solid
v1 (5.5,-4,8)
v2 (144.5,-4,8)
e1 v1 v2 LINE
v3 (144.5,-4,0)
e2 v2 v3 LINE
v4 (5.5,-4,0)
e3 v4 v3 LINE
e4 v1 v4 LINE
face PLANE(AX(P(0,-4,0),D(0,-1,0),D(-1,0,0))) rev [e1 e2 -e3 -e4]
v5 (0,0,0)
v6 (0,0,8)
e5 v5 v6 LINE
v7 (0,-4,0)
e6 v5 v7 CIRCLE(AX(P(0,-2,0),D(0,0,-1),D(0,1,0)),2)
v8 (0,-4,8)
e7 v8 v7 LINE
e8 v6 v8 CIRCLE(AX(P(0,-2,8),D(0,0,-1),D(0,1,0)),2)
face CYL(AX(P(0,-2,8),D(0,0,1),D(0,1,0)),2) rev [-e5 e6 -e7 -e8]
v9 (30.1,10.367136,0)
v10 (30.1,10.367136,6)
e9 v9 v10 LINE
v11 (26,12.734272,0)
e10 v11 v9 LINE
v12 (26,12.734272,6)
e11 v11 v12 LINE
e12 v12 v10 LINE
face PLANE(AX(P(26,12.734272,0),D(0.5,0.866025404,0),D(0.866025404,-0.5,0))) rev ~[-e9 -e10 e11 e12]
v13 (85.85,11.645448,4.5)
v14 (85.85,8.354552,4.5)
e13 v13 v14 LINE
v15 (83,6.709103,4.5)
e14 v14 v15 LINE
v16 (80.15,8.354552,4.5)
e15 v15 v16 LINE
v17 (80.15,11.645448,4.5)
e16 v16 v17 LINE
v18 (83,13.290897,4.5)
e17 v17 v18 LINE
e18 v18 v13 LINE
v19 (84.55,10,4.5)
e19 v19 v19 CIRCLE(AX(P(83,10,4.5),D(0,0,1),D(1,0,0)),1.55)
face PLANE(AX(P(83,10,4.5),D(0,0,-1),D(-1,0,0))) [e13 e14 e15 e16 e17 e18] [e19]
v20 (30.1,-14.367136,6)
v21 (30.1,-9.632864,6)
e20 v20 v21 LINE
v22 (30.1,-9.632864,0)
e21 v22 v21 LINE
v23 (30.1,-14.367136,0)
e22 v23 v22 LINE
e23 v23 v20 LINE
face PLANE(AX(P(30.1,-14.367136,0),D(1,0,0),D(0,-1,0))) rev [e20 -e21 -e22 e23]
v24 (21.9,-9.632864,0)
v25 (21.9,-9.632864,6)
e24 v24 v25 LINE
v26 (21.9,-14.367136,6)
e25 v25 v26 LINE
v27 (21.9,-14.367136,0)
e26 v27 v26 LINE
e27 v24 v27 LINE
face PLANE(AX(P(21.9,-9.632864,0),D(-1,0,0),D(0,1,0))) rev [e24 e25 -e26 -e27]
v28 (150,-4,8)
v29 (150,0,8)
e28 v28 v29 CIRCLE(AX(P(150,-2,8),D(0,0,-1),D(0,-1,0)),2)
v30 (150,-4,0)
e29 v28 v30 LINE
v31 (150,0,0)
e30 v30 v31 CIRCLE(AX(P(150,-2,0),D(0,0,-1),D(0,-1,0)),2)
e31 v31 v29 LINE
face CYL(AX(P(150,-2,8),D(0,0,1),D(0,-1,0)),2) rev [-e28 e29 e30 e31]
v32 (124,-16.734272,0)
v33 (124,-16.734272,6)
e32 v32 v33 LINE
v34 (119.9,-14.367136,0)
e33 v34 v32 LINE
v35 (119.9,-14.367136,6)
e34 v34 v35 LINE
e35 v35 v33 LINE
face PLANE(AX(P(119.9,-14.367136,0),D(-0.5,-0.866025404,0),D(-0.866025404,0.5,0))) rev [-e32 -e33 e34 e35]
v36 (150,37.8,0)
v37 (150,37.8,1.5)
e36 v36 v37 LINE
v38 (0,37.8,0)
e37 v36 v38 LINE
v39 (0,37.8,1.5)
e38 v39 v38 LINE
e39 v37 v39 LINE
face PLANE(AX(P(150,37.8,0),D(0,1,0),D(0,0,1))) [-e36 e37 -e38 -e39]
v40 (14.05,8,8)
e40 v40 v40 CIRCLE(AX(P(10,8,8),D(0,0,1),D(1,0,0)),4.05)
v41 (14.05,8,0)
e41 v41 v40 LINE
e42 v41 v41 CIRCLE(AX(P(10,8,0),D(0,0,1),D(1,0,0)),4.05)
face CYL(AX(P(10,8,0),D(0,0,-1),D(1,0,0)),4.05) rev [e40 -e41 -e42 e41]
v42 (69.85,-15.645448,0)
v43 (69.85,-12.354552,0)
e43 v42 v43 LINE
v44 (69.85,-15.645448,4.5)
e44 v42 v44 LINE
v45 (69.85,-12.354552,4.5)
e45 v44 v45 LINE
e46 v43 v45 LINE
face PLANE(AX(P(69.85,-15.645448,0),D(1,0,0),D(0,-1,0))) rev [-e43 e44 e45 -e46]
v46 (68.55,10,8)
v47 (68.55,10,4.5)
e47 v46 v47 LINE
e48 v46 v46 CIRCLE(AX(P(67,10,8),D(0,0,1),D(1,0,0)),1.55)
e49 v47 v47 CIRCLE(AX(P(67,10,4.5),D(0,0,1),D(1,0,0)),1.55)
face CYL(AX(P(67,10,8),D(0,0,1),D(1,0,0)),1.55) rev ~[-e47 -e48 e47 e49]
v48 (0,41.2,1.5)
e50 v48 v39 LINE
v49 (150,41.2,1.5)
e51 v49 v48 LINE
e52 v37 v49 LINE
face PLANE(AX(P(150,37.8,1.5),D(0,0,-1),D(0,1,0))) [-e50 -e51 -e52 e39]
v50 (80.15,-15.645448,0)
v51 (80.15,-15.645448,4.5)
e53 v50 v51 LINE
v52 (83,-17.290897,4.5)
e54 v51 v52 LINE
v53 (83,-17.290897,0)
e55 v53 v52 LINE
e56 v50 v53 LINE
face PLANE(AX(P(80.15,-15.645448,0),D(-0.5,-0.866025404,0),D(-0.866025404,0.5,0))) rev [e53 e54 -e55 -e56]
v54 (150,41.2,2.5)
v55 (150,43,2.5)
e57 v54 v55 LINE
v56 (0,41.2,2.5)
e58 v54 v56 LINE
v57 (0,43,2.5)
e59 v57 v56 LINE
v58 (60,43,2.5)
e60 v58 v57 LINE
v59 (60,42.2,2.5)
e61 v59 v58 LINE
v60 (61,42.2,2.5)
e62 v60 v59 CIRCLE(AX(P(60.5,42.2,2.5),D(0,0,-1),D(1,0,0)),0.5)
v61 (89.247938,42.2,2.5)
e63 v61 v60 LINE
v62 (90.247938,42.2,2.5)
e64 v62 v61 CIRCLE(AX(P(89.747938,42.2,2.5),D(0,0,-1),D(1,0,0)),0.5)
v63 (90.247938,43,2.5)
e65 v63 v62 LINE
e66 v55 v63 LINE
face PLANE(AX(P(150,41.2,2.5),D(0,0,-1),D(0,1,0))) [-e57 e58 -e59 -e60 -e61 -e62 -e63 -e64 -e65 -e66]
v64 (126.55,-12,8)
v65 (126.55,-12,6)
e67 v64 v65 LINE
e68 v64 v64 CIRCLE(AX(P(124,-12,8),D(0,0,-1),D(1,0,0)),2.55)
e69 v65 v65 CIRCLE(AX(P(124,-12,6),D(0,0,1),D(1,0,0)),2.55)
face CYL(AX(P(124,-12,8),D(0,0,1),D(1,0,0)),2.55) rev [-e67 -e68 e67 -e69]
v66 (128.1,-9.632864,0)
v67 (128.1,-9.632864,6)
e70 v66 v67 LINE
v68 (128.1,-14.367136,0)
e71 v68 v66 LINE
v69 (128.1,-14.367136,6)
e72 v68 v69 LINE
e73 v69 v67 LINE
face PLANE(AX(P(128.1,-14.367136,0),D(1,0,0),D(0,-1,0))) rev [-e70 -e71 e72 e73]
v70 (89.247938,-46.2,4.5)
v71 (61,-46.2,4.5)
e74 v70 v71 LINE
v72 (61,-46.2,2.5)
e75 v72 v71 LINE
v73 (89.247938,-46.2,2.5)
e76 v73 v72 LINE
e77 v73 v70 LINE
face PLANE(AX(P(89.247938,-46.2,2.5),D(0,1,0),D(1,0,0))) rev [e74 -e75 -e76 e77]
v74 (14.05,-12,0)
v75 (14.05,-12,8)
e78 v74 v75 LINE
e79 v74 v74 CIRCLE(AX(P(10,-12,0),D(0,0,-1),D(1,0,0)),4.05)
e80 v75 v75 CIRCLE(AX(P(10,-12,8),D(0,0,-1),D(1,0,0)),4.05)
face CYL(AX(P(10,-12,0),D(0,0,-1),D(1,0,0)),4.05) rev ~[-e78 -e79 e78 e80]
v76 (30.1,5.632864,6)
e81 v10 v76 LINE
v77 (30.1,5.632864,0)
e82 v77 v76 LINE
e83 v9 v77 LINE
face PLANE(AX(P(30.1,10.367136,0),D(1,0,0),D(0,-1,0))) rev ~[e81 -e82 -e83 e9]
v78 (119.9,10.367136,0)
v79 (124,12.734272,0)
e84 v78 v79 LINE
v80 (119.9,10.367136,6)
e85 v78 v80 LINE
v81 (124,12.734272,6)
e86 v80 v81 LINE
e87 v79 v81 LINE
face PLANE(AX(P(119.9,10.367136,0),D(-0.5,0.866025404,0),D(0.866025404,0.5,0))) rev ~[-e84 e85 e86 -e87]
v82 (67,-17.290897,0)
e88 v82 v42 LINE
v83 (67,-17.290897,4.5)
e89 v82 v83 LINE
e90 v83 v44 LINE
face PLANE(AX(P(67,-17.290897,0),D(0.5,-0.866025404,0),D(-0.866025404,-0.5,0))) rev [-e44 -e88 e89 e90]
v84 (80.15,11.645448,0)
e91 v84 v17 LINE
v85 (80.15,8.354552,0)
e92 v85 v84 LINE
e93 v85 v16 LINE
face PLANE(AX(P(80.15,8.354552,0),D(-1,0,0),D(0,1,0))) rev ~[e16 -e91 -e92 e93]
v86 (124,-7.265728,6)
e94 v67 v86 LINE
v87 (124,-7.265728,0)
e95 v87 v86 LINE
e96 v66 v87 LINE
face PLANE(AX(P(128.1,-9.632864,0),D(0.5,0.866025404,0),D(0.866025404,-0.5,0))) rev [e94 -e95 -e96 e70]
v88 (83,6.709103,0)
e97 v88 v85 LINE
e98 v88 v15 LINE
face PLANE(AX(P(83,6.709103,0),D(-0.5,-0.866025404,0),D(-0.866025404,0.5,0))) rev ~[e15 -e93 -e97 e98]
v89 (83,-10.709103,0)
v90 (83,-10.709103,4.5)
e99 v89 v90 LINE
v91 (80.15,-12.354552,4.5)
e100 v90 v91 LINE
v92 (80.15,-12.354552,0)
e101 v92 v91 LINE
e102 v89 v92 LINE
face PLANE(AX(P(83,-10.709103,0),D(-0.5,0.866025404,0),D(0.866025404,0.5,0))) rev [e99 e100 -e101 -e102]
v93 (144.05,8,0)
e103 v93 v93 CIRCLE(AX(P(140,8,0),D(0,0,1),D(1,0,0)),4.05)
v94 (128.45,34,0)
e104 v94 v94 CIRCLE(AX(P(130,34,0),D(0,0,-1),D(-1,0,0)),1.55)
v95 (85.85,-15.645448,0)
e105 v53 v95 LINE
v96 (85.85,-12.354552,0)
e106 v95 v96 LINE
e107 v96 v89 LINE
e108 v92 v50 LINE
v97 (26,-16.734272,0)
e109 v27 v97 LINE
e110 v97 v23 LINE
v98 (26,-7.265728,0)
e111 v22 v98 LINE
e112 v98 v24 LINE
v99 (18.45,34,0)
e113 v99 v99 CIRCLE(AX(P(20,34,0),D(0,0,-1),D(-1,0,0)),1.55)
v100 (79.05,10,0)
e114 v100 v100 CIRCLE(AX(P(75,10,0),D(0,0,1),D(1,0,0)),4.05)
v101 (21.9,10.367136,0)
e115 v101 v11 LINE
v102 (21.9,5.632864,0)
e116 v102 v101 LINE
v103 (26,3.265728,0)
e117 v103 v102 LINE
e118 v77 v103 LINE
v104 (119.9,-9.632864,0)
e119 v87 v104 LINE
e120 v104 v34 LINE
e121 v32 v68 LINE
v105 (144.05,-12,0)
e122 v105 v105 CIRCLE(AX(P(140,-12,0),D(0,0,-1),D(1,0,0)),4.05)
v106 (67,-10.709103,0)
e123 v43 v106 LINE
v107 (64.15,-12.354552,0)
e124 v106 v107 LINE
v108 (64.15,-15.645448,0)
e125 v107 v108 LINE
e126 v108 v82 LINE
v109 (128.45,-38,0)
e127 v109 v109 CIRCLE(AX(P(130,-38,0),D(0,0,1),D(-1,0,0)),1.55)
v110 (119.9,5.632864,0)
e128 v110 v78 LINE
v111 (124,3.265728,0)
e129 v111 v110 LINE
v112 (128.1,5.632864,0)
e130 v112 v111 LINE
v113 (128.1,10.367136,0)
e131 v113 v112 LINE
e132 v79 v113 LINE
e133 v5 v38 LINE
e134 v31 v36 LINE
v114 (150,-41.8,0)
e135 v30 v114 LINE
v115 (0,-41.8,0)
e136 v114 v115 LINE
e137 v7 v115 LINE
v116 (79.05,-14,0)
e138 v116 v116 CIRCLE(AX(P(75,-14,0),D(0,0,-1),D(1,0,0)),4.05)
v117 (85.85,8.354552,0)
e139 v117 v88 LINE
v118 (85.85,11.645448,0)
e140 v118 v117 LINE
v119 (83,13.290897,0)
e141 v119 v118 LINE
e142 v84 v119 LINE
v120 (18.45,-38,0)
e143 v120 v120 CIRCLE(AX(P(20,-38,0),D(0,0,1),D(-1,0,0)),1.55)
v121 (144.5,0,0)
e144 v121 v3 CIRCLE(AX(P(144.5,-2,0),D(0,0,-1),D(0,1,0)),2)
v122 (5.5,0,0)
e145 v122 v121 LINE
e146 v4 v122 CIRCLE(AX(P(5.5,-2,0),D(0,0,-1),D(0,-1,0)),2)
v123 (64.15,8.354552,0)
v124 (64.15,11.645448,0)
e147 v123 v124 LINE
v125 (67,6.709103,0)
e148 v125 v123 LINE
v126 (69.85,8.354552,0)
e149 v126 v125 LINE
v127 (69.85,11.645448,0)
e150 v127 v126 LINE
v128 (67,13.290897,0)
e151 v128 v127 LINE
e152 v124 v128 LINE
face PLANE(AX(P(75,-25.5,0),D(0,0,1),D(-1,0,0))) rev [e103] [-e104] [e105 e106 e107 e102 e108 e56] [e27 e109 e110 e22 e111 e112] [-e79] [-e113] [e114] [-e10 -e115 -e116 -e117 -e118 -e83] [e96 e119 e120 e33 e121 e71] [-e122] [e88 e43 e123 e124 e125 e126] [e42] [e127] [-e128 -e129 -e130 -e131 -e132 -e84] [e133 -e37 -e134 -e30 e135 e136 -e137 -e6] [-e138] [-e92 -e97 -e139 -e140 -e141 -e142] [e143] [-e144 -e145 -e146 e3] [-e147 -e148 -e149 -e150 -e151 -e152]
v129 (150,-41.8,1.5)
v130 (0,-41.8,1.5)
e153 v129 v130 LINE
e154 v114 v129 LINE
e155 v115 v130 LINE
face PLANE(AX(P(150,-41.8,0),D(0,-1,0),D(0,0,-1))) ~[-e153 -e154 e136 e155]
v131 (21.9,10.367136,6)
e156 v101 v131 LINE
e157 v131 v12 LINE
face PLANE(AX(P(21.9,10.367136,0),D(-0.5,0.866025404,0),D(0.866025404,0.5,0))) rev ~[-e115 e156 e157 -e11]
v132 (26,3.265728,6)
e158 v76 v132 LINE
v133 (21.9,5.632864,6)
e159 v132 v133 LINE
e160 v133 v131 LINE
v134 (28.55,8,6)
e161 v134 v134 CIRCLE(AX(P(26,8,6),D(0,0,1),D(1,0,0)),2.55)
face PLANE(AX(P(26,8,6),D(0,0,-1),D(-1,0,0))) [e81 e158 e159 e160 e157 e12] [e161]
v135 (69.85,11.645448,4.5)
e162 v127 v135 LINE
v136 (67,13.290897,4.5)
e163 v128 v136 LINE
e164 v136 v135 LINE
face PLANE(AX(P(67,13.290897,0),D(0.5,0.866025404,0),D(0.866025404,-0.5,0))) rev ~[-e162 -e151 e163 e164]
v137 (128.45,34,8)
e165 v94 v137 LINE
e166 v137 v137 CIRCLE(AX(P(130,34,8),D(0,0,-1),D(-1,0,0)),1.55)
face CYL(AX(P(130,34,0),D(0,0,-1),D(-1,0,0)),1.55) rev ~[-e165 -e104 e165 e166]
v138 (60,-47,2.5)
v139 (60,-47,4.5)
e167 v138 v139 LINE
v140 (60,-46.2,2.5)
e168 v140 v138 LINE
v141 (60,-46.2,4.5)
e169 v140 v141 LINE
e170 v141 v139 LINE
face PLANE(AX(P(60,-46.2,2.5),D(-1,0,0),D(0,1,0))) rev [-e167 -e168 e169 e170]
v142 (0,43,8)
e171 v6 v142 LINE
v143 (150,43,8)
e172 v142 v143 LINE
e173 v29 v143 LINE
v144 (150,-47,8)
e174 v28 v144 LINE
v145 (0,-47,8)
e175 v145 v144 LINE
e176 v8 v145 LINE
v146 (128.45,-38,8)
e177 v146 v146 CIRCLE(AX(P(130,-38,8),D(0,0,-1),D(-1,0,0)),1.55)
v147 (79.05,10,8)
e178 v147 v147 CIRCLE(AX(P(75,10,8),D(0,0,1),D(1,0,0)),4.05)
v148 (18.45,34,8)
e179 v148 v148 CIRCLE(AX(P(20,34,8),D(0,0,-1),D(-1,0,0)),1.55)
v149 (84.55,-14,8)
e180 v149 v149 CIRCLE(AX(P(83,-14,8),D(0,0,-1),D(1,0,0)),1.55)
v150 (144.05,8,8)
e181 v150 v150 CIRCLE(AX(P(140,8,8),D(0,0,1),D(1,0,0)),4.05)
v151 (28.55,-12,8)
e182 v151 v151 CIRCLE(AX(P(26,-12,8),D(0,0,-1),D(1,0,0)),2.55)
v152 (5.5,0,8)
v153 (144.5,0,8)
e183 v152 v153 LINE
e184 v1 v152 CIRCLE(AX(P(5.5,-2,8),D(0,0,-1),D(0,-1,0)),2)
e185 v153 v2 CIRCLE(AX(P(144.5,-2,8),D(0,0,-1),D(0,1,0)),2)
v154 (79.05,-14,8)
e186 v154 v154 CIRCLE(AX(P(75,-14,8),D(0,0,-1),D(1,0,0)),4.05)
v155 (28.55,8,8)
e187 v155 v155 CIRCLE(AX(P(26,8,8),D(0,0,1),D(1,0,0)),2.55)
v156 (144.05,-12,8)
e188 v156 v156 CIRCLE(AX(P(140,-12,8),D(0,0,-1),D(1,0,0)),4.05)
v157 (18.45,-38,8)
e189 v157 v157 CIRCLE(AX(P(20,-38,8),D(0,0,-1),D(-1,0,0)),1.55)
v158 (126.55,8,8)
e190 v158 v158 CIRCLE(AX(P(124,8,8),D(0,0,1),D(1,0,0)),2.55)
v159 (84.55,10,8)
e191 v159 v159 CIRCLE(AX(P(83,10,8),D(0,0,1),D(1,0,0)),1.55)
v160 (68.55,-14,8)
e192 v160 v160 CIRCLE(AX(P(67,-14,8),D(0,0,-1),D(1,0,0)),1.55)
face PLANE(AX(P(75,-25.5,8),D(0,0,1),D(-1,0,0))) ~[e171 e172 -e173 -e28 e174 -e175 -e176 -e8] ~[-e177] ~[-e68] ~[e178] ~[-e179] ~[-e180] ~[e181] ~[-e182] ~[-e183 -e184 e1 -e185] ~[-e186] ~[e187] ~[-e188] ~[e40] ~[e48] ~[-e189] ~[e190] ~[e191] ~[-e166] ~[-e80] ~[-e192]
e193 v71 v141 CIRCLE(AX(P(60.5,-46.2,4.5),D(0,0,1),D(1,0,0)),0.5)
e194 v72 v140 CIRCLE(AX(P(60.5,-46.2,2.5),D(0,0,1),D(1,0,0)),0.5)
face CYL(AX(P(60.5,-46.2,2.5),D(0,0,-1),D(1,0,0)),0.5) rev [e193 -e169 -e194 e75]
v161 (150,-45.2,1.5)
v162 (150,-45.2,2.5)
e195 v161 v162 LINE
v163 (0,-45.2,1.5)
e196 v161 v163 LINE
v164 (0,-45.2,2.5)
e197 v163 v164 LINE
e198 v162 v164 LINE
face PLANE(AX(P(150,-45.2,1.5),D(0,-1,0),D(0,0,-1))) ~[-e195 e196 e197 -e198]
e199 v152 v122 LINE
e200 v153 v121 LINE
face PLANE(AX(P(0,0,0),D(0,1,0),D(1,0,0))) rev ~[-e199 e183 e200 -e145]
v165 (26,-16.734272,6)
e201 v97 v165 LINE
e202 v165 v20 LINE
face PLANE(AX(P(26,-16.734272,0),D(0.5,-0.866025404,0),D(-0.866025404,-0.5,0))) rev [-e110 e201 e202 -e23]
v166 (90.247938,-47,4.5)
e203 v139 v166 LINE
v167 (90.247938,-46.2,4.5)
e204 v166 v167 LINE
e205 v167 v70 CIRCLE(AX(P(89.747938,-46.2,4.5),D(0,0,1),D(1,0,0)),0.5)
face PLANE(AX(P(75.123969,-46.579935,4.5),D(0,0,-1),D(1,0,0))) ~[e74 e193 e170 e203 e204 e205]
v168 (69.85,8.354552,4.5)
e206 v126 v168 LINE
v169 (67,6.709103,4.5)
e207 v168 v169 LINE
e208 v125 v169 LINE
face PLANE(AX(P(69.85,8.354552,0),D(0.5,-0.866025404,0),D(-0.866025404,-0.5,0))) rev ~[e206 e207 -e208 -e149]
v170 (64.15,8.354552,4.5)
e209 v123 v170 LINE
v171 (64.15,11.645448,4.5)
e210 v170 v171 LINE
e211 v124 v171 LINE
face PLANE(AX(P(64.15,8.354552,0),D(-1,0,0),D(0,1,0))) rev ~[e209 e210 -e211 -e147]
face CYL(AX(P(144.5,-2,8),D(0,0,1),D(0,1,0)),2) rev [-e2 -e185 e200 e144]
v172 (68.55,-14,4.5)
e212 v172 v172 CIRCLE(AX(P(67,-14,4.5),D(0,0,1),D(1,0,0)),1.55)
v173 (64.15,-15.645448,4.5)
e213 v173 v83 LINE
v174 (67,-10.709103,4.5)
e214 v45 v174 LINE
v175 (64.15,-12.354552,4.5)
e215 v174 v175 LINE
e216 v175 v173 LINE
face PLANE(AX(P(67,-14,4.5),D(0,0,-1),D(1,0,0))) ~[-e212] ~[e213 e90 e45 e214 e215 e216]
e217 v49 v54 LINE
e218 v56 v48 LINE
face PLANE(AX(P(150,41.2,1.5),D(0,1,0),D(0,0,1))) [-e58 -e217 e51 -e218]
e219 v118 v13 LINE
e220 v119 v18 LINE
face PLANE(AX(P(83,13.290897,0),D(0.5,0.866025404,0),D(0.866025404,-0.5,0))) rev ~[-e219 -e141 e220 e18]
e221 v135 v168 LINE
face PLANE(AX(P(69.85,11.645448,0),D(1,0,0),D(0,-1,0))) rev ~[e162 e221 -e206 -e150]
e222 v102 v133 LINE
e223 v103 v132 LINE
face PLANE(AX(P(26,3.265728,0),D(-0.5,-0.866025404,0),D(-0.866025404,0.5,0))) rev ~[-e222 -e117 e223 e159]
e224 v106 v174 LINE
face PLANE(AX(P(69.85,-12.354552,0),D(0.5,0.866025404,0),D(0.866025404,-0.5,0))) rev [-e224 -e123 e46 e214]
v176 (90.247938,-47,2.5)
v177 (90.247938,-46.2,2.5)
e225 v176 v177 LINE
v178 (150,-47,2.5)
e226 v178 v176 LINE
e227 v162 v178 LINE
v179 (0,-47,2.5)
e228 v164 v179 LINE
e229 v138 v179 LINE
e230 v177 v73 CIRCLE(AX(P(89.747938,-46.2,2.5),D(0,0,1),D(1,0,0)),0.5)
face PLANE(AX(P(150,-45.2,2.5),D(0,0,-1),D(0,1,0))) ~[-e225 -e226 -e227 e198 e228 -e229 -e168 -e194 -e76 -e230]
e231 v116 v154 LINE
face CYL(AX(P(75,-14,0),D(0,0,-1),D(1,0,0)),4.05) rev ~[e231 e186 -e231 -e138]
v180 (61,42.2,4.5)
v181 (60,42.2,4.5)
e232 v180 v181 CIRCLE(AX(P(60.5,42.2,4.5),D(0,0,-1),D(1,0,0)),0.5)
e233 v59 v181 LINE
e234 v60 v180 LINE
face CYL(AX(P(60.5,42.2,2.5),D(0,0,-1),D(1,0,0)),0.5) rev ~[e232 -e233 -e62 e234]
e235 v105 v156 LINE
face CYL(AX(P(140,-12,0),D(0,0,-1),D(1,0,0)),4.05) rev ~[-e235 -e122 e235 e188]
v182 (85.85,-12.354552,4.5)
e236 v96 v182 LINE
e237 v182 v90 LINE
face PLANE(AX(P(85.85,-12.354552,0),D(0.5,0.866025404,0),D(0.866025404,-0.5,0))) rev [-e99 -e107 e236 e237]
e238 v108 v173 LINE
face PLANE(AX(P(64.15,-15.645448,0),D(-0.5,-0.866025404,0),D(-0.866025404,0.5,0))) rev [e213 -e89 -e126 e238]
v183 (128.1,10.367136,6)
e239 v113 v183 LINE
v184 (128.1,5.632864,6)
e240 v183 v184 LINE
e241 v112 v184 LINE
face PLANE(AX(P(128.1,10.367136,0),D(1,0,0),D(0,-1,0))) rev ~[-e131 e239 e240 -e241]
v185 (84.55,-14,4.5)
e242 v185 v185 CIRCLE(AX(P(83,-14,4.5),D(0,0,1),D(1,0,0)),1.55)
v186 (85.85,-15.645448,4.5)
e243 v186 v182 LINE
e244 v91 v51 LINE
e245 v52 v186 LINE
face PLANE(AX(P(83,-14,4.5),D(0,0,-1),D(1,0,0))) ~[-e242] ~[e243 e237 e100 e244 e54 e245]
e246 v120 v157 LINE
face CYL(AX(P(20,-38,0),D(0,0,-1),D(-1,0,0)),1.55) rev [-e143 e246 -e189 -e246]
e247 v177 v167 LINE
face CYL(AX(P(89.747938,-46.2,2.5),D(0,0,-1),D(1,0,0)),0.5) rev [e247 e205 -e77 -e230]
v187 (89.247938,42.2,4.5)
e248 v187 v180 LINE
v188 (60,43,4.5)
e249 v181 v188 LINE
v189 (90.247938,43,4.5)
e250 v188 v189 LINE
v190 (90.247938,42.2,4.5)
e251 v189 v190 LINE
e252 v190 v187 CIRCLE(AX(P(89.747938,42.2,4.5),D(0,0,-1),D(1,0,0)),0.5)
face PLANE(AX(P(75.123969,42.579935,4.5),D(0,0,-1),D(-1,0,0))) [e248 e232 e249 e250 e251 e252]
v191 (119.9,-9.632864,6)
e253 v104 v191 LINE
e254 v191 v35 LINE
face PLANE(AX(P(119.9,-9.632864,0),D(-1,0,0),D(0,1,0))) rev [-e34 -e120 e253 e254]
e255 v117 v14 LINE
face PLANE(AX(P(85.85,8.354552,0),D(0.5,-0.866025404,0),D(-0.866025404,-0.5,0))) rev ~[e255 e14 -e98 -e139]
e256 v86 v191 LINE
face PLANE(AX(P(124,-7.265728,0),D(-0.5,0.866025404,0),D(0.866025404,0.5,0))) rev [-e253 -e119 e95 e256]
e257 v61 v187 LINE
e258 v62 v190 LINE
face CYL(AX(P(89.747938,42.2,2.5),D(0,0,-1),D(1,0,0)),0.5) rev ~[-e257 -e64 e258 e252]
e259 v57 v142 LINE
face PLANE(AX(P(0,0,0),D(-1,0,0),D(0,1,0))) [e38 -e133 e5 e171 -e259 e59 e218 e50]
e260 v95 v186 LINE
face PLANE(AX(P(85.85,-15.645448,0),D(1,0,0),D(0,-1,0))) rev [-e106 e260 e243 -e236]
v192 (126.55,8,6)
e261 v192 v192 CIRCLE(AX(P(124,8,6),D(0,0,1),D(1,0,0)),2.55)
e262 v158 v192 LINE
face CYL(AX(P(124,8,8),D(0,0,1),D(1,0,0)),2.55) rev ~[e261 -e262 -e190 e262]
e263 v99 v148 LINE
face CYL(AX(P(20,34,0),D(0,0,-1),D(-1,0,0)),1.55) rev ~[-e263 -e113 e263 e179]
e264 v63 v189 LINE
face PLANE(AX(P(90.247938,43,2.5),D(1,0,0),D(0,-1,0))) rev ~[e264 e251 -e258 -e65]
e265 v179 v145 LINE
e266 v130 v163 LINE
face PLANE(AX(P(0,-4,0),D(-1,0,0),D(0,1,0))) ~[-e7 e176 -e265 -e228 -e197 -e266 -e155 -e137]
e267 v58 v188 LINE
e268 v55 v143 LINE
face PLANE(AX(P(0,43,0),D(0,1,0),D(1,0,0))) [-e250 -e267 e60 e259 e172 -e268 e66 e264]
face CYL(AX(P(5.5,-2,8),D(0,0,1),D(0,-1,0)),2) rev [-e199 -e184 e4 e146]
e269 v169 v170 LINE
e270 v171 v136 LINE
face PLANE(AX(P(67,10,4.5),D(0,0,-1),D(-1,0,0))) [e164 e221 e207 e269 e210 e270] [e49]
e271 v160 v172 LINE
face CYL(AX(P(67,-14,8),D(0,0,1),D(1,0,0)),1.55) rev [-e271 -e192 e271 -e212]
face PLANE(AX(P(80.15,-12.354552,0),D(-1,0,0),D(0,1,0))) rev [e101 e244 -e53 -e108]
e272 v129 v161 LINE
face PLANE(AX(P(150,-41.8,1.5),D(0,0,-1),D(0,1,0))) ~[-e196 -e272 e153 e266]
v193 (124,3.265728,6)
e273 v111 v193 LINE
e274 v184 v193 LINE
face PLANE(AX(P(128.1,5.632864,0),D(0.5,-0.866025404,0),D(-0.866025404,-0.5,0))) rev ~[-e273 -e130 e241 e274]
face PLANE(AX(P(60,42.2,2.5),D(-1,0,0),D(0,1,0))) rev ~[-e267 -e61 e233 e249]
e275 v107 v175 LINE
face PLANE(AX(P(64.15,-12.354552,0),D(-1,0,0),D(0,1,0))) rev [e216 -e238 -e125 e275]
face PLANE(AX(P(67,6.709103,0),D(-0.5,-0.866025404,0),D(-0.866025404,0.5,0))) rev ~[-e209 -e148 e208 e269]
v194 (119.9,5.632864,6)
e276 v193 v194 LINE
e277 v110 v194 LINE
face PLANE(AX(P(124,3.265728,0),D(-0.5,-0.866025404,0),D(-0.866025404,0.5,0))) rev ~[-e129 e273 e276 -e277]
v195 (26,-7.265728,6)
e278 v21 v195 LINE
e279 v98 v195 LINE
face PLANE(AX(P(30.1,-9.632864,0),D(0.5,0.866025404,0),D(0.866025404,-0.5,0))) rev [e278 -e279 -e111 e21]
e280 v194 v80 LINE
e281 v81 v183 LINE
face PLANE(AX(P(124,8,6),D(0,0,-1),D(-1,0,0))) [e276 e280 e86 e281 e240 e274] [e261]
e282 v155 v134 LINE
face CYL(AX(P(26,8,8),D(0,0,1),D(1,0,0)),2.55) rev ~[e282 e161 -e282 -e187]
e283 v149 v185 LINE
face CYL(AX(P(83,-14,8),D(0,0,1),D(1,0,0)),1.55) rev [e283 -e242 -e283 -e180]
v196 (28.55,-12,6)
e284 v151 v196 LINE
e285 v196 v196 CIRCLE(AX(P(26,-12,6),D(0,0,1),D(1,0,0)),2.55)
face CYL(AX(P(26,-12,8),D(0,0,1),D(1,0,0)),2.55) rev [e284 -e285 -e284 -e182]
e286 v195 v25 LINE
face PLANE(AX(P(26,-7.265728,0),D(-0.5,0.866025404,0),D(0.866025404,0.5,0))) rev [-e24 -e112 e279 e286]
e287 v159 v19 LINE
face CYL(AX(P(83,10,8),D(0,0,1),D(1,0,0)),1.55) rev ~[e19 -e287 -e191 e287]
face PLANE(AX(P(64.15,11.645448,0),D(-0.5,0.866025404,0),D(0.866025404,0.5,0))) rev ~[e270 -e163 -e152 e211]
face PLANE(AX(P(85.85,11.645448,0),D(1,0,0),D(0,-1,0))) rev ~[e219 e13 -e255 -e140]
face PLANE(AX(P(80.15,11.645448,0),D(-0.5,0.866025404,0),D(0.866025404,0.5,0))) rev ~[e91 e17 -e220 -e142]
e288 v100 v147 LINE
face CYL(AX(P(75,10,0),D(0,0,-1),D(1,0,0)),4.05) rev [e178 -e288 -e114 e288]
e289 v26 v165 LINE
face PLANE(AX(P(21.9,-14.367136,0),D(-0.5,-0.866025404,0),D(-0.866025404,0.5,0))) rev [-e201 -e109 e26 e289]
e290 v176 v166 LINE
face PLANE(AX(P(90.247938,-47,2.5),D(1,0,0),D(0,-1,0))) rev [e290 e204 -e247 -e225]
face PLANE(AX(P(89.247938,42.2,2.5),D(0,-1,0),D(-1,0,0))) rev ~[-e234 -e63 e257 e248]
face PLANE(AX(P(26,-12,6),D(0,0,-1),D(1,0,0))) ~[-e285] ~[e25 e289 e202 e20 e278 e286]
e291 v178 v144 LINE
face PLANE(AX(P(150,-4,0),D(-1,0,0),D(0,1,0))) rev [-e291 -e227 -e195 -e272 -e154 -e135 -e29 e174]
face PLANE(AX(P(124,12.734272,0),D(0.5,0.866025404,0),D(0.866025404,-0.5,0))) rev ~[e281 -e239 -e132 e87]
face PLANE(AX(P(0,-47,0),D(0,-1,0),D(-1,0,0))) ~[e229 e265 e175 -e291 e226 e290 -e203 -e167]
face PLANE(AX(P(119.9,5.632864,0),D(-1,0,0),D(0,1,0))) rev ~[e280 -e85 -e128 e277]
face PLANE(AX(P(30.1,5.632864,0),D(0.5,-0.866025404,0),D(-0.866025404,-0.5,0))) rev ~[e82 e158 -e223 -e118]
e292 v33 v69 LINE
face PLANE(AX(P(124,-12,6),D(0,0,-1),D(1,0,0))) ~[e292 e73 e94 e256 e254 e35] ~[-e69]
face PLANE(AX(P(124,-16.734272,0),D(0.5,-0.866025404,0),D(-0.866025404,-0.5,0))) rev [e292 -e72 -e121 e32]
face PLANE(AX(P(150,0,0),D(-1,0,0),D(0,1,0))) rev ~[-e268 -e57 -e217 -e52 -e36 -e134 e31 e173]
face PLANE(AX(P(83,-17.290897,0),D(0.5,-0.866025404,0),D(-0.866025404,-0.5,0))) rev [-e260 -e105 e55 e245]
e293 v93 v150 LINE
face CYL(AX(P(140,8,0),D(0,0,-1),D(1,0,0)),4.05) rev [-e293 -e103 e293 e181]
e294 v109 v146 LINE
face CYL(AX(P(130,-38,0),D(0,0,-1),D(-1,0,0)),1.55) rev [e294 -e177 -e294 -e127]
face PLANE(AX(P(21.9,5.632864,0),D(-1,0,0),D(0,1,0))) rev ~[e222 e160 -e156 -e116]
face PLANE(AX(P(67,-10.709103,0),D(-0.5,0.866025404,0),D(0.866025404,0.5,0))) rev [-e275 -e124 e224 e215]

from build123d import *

# Parameters (mm, degrees)
SKETCH_2_W           = 150
SKETCH_2_H           = 43
SKETCH_2_R           = 4.05
EXTRUDE_1_DEPTH      = 8
SKETCH_3_R           = 2.55
CUT_EXTRUDE_1_DEPTH  = 157.246599963
CUT_EXTRUDE_16_DEPTH = 6
CUT_EXTRUDE_2_DEPTH  = 157.246599963
SKETCH_5_R           = 1.55
CUT_EXTRUDE_3_DEPTH  = 157.246599963
CUT_EXTRUDE_5_DEPTH  = 4.5
SKETCH_25_R          = 1.55
CUT_EXTRUDE_13_DEPTH = 157.246599963
CUT_EXTRUDE_11_DEPTH = 2
EXTRUDE_2_DEPTH      = 8


with BuildPart() as part:
    # 草图2 → 凸台-拉伸1 (new body)
    with BuildSketch(Plane.XY):
        with Locations((75, 21.5)):
            Rectangle(SKETCH_2_W, SKETCH_2_H)
        with Locations((10, 8)):
            Circle(SKETCH_2_R, mode=Mode.SUBTRACT)
        with Locations((75, 10)):
            Circle(SKETCH_2_R, mode=Mode.SUBTRACT)
        with Locations((140, 8)):
            Circle(SKETCH_2_R, mode=Mode.SUBTRACT)
    extrude_1 = extrude(amount=EXTRUDE_1_DEPTH)

    # 草图3 → 切除-拉伸1 (cut, through all)
    with BuildSketch(Plane.XY.offset(8)):
        with Locations((26, 8)):
            Circle(SKETCH_3_R)
        with Locations((124, 8)):
            Circle(SKETCH_3_R)
    cut_extrude_1 = extrude(amount=-CUT_EXTRUDE_1_DEPTH, mode=Mode.SUBTRACT)

    # 草图28 → 切除-拉伸16 (cut)
    with BuildSketch(Plane(origin=(0, 0, 0), x_dir=(-1, 0, 0), z_dir=(0, 0, -1))):
        Polygon((-119.9, 5.632863896), (-119.9, 10.367136104), (-124, 12.734272207), (-128.1, 10.367136104), (-128.1, 5.632863896), (-124, 3.265727793), align=None)
        Polygon((-21.9, 5.632863896), (-21.9, 10.367136104), (-26, 12.734272207), (-30.1, 10.367136104), (-30.1, 5.632863896), (-26, 3.265727793), align=None)
    cut_extrude_16 = extrude(amount=-CUT_EXTRUDE_16_DEPTH, mode=Mode.SUBTRACT)

    # 草图4 → 切除-拉伸2 (cut, through all)
    with BuildSketch(Plane(origin=(150, 0, 0), x_dir=(0, 0, -1), z_dir=(1, 0, 0))):
        Polygon((-1.5, 41.2), (-2.5, 41.2), (-2.5, 43), (0, 43), (0, 37.8), (-1.5, 37.8), align=None)
    cut_extrude_2 = extrude(amount=-CUT_EXTRUDE_2_DEPTH, mode=Mode.SUBTRACT)

    # 草图5 → 切除-拉伸3 (cut, through all)
    with BuildSketch(Plane.XY.offset(8)):
        with Locations((83, 10)):
            Circle(SKETCH_5_R)
        with Locations((67, 10)):
            Circle(SKETCH_5_R)
    cut_extrude_3 = extrude(amount=-CUT_EXTRUDE_3_DEPTH, mode=Mode.SUBTRACT)

    # 草图8 → 切除-拉伸5 (cut)
    with BuildSketch(Plane(origin=(0, 0, 0), x_dir=(-1, 0, 0), z_dir=(0, 0, -1))):
        Polygon((-80.15, 8.354551733), (-80.15, 11.645448267), (-83, 13.290896534), (-85.85, 11.645448267), (-85.85, 8.354551733), (-83, 6.709103466), align=None)
        Polygon((-64.15, 8.354551733), (-64.15, 11.645448267), (-67, 13.290896534), (-69.85, 11.645448267), (-69.85, 8.354551733), (-67, 6.709103466), align=None)
    cut_extrude_5 = extrude(amount=-CUT_EXTRUDE_5_DEPTH, mode=Mode.SUBTRACT)

    # 草图25 → 切除-拉伸13 (cut, through all)
    with BuildSketch(Plane(origin=(0, 0, 0), x_dir=(-1, 0, 0), z_dir=(0, 0, -1))):
        with Locations((-130, 34)):
            Circle(SKETCH_25_R)
        with Locations((-20, 34)):
            Circle(SKETCH_25_R)
    cut_extrude_13 = extrude(amount=-CUT_EXTRUDE_13_DEPTH, mode=Mode.SUBTRACT)

    # 草图19 → 切除-拉伸11 (cut)
    with BuildSketch(Plane(origin=(0, 0, 2.5), x_dir=(-1, 0, 0), z_dir=(0, 0, -1))):
        with BuildLine():
            Line((-60, 43), (-90.247938178, 43))
            Line((-90.247938178, 43), (-90.247938178, 42.2))
            ThreePointArc((-90.247938178, 42.2), (-89.747938178, 41.7), (-89.247938178, 42.2))
            Line((-89.247938178, 42.2), (-61, 42.2))
            ThreePointArc((-61, 42.2), (-60.5, 41.7), (-60, 42.2))
            Line((-60, 42.2), (-60, 43))
        make_face()
    cut_extrude_11 = extrude(amount=-CUT_EXTRUDE_11_DEPTH, mode=Mode.SUBTRACT)

    # 草图22 → 凸台-拉伸2 (add)
    with BuildSketch(Plane.XY.offset(8)):
        with BuildLine():
            Line((0, -4), (5.5, -4))
            ThreePointArc((5.5, -4), (3.5, -2), (5.5, 0))
            Line((5.5, 0), (0, 0))
            ThreePointArc((0, 0), (2, -2), (0, -4))
        make_face()
        with BuildLine():
            Line((150, 0), (144.5, 0))
            ThreePointArc((144.5, 0), (146.5, -2), (144.5, -4))
            Line((144.5, -4), (150, -4))
            ThreePointArc((150, -4), (148, -2), (150, 0))
        make_face()
    extrude(amount=-EXTRUDE_2_DEPTH)

    # 镜向2: 凸台-拉伸1, 切除-拉伸1, 切除-拉伸16, 切除-拉伸2, 切除-拉伸3, 切除-拉伸5, 切除-拉伸13, 切除-拉伸11 across plane
    add(extrude_1.mirror(Plane(origin=(0, -2, 0), x_dir=(0, 0, 1), z_dir=(0, -1, 0))))
    add(cut_extrude_1.mirror(Plane(origin=(0, -2, 0), x_dir=(0, 0, 1), z_dir=(0, -1, 0))), mode=Mode.SUBTRACT)
    add(cut_extrude_16.mirror(Plane(origin=(0, -2, 0), x_dir=(0, 0, 1), z_dir=(0, -1, 0))), mode=Mode.SUBTRACT)
    add(cut_extrude_2.mirror(Plane(origin=(0, -2, 0), x_dir=(0, 0, 1), z_dir=(0, -1, 0))), mode=Mode.SUBTRACT)
    add(cut_extrude_3.mirror(Plane(origin=(0, -2, 0), x_dir=(0, 0, 1), z_dir=(0, -1, 0))), mode=Mode.SUBTRACT)
    add(cut_extrude_5.mirror(Plane(origin=(0, -2, 0), x_dir=(0, 0, 1), z_dir=(0, -1, 0))), mode=Mode.SUBTRACT)
    add(cut_extrude_13.mirror(Plane(origin=(0, -2, 0), x_dir=(0, 0, 1), z_dir=(0, -1, 0))), mode=Mode.SUBTRACT)
    add(cut_extrude_11.mirror(Plane(origin=(0, -2, 0), x_dir=(0, 0, 1), z_dir=(0, -1, 0))), mode=Mode.SUBTRACT)


solid = part.part
